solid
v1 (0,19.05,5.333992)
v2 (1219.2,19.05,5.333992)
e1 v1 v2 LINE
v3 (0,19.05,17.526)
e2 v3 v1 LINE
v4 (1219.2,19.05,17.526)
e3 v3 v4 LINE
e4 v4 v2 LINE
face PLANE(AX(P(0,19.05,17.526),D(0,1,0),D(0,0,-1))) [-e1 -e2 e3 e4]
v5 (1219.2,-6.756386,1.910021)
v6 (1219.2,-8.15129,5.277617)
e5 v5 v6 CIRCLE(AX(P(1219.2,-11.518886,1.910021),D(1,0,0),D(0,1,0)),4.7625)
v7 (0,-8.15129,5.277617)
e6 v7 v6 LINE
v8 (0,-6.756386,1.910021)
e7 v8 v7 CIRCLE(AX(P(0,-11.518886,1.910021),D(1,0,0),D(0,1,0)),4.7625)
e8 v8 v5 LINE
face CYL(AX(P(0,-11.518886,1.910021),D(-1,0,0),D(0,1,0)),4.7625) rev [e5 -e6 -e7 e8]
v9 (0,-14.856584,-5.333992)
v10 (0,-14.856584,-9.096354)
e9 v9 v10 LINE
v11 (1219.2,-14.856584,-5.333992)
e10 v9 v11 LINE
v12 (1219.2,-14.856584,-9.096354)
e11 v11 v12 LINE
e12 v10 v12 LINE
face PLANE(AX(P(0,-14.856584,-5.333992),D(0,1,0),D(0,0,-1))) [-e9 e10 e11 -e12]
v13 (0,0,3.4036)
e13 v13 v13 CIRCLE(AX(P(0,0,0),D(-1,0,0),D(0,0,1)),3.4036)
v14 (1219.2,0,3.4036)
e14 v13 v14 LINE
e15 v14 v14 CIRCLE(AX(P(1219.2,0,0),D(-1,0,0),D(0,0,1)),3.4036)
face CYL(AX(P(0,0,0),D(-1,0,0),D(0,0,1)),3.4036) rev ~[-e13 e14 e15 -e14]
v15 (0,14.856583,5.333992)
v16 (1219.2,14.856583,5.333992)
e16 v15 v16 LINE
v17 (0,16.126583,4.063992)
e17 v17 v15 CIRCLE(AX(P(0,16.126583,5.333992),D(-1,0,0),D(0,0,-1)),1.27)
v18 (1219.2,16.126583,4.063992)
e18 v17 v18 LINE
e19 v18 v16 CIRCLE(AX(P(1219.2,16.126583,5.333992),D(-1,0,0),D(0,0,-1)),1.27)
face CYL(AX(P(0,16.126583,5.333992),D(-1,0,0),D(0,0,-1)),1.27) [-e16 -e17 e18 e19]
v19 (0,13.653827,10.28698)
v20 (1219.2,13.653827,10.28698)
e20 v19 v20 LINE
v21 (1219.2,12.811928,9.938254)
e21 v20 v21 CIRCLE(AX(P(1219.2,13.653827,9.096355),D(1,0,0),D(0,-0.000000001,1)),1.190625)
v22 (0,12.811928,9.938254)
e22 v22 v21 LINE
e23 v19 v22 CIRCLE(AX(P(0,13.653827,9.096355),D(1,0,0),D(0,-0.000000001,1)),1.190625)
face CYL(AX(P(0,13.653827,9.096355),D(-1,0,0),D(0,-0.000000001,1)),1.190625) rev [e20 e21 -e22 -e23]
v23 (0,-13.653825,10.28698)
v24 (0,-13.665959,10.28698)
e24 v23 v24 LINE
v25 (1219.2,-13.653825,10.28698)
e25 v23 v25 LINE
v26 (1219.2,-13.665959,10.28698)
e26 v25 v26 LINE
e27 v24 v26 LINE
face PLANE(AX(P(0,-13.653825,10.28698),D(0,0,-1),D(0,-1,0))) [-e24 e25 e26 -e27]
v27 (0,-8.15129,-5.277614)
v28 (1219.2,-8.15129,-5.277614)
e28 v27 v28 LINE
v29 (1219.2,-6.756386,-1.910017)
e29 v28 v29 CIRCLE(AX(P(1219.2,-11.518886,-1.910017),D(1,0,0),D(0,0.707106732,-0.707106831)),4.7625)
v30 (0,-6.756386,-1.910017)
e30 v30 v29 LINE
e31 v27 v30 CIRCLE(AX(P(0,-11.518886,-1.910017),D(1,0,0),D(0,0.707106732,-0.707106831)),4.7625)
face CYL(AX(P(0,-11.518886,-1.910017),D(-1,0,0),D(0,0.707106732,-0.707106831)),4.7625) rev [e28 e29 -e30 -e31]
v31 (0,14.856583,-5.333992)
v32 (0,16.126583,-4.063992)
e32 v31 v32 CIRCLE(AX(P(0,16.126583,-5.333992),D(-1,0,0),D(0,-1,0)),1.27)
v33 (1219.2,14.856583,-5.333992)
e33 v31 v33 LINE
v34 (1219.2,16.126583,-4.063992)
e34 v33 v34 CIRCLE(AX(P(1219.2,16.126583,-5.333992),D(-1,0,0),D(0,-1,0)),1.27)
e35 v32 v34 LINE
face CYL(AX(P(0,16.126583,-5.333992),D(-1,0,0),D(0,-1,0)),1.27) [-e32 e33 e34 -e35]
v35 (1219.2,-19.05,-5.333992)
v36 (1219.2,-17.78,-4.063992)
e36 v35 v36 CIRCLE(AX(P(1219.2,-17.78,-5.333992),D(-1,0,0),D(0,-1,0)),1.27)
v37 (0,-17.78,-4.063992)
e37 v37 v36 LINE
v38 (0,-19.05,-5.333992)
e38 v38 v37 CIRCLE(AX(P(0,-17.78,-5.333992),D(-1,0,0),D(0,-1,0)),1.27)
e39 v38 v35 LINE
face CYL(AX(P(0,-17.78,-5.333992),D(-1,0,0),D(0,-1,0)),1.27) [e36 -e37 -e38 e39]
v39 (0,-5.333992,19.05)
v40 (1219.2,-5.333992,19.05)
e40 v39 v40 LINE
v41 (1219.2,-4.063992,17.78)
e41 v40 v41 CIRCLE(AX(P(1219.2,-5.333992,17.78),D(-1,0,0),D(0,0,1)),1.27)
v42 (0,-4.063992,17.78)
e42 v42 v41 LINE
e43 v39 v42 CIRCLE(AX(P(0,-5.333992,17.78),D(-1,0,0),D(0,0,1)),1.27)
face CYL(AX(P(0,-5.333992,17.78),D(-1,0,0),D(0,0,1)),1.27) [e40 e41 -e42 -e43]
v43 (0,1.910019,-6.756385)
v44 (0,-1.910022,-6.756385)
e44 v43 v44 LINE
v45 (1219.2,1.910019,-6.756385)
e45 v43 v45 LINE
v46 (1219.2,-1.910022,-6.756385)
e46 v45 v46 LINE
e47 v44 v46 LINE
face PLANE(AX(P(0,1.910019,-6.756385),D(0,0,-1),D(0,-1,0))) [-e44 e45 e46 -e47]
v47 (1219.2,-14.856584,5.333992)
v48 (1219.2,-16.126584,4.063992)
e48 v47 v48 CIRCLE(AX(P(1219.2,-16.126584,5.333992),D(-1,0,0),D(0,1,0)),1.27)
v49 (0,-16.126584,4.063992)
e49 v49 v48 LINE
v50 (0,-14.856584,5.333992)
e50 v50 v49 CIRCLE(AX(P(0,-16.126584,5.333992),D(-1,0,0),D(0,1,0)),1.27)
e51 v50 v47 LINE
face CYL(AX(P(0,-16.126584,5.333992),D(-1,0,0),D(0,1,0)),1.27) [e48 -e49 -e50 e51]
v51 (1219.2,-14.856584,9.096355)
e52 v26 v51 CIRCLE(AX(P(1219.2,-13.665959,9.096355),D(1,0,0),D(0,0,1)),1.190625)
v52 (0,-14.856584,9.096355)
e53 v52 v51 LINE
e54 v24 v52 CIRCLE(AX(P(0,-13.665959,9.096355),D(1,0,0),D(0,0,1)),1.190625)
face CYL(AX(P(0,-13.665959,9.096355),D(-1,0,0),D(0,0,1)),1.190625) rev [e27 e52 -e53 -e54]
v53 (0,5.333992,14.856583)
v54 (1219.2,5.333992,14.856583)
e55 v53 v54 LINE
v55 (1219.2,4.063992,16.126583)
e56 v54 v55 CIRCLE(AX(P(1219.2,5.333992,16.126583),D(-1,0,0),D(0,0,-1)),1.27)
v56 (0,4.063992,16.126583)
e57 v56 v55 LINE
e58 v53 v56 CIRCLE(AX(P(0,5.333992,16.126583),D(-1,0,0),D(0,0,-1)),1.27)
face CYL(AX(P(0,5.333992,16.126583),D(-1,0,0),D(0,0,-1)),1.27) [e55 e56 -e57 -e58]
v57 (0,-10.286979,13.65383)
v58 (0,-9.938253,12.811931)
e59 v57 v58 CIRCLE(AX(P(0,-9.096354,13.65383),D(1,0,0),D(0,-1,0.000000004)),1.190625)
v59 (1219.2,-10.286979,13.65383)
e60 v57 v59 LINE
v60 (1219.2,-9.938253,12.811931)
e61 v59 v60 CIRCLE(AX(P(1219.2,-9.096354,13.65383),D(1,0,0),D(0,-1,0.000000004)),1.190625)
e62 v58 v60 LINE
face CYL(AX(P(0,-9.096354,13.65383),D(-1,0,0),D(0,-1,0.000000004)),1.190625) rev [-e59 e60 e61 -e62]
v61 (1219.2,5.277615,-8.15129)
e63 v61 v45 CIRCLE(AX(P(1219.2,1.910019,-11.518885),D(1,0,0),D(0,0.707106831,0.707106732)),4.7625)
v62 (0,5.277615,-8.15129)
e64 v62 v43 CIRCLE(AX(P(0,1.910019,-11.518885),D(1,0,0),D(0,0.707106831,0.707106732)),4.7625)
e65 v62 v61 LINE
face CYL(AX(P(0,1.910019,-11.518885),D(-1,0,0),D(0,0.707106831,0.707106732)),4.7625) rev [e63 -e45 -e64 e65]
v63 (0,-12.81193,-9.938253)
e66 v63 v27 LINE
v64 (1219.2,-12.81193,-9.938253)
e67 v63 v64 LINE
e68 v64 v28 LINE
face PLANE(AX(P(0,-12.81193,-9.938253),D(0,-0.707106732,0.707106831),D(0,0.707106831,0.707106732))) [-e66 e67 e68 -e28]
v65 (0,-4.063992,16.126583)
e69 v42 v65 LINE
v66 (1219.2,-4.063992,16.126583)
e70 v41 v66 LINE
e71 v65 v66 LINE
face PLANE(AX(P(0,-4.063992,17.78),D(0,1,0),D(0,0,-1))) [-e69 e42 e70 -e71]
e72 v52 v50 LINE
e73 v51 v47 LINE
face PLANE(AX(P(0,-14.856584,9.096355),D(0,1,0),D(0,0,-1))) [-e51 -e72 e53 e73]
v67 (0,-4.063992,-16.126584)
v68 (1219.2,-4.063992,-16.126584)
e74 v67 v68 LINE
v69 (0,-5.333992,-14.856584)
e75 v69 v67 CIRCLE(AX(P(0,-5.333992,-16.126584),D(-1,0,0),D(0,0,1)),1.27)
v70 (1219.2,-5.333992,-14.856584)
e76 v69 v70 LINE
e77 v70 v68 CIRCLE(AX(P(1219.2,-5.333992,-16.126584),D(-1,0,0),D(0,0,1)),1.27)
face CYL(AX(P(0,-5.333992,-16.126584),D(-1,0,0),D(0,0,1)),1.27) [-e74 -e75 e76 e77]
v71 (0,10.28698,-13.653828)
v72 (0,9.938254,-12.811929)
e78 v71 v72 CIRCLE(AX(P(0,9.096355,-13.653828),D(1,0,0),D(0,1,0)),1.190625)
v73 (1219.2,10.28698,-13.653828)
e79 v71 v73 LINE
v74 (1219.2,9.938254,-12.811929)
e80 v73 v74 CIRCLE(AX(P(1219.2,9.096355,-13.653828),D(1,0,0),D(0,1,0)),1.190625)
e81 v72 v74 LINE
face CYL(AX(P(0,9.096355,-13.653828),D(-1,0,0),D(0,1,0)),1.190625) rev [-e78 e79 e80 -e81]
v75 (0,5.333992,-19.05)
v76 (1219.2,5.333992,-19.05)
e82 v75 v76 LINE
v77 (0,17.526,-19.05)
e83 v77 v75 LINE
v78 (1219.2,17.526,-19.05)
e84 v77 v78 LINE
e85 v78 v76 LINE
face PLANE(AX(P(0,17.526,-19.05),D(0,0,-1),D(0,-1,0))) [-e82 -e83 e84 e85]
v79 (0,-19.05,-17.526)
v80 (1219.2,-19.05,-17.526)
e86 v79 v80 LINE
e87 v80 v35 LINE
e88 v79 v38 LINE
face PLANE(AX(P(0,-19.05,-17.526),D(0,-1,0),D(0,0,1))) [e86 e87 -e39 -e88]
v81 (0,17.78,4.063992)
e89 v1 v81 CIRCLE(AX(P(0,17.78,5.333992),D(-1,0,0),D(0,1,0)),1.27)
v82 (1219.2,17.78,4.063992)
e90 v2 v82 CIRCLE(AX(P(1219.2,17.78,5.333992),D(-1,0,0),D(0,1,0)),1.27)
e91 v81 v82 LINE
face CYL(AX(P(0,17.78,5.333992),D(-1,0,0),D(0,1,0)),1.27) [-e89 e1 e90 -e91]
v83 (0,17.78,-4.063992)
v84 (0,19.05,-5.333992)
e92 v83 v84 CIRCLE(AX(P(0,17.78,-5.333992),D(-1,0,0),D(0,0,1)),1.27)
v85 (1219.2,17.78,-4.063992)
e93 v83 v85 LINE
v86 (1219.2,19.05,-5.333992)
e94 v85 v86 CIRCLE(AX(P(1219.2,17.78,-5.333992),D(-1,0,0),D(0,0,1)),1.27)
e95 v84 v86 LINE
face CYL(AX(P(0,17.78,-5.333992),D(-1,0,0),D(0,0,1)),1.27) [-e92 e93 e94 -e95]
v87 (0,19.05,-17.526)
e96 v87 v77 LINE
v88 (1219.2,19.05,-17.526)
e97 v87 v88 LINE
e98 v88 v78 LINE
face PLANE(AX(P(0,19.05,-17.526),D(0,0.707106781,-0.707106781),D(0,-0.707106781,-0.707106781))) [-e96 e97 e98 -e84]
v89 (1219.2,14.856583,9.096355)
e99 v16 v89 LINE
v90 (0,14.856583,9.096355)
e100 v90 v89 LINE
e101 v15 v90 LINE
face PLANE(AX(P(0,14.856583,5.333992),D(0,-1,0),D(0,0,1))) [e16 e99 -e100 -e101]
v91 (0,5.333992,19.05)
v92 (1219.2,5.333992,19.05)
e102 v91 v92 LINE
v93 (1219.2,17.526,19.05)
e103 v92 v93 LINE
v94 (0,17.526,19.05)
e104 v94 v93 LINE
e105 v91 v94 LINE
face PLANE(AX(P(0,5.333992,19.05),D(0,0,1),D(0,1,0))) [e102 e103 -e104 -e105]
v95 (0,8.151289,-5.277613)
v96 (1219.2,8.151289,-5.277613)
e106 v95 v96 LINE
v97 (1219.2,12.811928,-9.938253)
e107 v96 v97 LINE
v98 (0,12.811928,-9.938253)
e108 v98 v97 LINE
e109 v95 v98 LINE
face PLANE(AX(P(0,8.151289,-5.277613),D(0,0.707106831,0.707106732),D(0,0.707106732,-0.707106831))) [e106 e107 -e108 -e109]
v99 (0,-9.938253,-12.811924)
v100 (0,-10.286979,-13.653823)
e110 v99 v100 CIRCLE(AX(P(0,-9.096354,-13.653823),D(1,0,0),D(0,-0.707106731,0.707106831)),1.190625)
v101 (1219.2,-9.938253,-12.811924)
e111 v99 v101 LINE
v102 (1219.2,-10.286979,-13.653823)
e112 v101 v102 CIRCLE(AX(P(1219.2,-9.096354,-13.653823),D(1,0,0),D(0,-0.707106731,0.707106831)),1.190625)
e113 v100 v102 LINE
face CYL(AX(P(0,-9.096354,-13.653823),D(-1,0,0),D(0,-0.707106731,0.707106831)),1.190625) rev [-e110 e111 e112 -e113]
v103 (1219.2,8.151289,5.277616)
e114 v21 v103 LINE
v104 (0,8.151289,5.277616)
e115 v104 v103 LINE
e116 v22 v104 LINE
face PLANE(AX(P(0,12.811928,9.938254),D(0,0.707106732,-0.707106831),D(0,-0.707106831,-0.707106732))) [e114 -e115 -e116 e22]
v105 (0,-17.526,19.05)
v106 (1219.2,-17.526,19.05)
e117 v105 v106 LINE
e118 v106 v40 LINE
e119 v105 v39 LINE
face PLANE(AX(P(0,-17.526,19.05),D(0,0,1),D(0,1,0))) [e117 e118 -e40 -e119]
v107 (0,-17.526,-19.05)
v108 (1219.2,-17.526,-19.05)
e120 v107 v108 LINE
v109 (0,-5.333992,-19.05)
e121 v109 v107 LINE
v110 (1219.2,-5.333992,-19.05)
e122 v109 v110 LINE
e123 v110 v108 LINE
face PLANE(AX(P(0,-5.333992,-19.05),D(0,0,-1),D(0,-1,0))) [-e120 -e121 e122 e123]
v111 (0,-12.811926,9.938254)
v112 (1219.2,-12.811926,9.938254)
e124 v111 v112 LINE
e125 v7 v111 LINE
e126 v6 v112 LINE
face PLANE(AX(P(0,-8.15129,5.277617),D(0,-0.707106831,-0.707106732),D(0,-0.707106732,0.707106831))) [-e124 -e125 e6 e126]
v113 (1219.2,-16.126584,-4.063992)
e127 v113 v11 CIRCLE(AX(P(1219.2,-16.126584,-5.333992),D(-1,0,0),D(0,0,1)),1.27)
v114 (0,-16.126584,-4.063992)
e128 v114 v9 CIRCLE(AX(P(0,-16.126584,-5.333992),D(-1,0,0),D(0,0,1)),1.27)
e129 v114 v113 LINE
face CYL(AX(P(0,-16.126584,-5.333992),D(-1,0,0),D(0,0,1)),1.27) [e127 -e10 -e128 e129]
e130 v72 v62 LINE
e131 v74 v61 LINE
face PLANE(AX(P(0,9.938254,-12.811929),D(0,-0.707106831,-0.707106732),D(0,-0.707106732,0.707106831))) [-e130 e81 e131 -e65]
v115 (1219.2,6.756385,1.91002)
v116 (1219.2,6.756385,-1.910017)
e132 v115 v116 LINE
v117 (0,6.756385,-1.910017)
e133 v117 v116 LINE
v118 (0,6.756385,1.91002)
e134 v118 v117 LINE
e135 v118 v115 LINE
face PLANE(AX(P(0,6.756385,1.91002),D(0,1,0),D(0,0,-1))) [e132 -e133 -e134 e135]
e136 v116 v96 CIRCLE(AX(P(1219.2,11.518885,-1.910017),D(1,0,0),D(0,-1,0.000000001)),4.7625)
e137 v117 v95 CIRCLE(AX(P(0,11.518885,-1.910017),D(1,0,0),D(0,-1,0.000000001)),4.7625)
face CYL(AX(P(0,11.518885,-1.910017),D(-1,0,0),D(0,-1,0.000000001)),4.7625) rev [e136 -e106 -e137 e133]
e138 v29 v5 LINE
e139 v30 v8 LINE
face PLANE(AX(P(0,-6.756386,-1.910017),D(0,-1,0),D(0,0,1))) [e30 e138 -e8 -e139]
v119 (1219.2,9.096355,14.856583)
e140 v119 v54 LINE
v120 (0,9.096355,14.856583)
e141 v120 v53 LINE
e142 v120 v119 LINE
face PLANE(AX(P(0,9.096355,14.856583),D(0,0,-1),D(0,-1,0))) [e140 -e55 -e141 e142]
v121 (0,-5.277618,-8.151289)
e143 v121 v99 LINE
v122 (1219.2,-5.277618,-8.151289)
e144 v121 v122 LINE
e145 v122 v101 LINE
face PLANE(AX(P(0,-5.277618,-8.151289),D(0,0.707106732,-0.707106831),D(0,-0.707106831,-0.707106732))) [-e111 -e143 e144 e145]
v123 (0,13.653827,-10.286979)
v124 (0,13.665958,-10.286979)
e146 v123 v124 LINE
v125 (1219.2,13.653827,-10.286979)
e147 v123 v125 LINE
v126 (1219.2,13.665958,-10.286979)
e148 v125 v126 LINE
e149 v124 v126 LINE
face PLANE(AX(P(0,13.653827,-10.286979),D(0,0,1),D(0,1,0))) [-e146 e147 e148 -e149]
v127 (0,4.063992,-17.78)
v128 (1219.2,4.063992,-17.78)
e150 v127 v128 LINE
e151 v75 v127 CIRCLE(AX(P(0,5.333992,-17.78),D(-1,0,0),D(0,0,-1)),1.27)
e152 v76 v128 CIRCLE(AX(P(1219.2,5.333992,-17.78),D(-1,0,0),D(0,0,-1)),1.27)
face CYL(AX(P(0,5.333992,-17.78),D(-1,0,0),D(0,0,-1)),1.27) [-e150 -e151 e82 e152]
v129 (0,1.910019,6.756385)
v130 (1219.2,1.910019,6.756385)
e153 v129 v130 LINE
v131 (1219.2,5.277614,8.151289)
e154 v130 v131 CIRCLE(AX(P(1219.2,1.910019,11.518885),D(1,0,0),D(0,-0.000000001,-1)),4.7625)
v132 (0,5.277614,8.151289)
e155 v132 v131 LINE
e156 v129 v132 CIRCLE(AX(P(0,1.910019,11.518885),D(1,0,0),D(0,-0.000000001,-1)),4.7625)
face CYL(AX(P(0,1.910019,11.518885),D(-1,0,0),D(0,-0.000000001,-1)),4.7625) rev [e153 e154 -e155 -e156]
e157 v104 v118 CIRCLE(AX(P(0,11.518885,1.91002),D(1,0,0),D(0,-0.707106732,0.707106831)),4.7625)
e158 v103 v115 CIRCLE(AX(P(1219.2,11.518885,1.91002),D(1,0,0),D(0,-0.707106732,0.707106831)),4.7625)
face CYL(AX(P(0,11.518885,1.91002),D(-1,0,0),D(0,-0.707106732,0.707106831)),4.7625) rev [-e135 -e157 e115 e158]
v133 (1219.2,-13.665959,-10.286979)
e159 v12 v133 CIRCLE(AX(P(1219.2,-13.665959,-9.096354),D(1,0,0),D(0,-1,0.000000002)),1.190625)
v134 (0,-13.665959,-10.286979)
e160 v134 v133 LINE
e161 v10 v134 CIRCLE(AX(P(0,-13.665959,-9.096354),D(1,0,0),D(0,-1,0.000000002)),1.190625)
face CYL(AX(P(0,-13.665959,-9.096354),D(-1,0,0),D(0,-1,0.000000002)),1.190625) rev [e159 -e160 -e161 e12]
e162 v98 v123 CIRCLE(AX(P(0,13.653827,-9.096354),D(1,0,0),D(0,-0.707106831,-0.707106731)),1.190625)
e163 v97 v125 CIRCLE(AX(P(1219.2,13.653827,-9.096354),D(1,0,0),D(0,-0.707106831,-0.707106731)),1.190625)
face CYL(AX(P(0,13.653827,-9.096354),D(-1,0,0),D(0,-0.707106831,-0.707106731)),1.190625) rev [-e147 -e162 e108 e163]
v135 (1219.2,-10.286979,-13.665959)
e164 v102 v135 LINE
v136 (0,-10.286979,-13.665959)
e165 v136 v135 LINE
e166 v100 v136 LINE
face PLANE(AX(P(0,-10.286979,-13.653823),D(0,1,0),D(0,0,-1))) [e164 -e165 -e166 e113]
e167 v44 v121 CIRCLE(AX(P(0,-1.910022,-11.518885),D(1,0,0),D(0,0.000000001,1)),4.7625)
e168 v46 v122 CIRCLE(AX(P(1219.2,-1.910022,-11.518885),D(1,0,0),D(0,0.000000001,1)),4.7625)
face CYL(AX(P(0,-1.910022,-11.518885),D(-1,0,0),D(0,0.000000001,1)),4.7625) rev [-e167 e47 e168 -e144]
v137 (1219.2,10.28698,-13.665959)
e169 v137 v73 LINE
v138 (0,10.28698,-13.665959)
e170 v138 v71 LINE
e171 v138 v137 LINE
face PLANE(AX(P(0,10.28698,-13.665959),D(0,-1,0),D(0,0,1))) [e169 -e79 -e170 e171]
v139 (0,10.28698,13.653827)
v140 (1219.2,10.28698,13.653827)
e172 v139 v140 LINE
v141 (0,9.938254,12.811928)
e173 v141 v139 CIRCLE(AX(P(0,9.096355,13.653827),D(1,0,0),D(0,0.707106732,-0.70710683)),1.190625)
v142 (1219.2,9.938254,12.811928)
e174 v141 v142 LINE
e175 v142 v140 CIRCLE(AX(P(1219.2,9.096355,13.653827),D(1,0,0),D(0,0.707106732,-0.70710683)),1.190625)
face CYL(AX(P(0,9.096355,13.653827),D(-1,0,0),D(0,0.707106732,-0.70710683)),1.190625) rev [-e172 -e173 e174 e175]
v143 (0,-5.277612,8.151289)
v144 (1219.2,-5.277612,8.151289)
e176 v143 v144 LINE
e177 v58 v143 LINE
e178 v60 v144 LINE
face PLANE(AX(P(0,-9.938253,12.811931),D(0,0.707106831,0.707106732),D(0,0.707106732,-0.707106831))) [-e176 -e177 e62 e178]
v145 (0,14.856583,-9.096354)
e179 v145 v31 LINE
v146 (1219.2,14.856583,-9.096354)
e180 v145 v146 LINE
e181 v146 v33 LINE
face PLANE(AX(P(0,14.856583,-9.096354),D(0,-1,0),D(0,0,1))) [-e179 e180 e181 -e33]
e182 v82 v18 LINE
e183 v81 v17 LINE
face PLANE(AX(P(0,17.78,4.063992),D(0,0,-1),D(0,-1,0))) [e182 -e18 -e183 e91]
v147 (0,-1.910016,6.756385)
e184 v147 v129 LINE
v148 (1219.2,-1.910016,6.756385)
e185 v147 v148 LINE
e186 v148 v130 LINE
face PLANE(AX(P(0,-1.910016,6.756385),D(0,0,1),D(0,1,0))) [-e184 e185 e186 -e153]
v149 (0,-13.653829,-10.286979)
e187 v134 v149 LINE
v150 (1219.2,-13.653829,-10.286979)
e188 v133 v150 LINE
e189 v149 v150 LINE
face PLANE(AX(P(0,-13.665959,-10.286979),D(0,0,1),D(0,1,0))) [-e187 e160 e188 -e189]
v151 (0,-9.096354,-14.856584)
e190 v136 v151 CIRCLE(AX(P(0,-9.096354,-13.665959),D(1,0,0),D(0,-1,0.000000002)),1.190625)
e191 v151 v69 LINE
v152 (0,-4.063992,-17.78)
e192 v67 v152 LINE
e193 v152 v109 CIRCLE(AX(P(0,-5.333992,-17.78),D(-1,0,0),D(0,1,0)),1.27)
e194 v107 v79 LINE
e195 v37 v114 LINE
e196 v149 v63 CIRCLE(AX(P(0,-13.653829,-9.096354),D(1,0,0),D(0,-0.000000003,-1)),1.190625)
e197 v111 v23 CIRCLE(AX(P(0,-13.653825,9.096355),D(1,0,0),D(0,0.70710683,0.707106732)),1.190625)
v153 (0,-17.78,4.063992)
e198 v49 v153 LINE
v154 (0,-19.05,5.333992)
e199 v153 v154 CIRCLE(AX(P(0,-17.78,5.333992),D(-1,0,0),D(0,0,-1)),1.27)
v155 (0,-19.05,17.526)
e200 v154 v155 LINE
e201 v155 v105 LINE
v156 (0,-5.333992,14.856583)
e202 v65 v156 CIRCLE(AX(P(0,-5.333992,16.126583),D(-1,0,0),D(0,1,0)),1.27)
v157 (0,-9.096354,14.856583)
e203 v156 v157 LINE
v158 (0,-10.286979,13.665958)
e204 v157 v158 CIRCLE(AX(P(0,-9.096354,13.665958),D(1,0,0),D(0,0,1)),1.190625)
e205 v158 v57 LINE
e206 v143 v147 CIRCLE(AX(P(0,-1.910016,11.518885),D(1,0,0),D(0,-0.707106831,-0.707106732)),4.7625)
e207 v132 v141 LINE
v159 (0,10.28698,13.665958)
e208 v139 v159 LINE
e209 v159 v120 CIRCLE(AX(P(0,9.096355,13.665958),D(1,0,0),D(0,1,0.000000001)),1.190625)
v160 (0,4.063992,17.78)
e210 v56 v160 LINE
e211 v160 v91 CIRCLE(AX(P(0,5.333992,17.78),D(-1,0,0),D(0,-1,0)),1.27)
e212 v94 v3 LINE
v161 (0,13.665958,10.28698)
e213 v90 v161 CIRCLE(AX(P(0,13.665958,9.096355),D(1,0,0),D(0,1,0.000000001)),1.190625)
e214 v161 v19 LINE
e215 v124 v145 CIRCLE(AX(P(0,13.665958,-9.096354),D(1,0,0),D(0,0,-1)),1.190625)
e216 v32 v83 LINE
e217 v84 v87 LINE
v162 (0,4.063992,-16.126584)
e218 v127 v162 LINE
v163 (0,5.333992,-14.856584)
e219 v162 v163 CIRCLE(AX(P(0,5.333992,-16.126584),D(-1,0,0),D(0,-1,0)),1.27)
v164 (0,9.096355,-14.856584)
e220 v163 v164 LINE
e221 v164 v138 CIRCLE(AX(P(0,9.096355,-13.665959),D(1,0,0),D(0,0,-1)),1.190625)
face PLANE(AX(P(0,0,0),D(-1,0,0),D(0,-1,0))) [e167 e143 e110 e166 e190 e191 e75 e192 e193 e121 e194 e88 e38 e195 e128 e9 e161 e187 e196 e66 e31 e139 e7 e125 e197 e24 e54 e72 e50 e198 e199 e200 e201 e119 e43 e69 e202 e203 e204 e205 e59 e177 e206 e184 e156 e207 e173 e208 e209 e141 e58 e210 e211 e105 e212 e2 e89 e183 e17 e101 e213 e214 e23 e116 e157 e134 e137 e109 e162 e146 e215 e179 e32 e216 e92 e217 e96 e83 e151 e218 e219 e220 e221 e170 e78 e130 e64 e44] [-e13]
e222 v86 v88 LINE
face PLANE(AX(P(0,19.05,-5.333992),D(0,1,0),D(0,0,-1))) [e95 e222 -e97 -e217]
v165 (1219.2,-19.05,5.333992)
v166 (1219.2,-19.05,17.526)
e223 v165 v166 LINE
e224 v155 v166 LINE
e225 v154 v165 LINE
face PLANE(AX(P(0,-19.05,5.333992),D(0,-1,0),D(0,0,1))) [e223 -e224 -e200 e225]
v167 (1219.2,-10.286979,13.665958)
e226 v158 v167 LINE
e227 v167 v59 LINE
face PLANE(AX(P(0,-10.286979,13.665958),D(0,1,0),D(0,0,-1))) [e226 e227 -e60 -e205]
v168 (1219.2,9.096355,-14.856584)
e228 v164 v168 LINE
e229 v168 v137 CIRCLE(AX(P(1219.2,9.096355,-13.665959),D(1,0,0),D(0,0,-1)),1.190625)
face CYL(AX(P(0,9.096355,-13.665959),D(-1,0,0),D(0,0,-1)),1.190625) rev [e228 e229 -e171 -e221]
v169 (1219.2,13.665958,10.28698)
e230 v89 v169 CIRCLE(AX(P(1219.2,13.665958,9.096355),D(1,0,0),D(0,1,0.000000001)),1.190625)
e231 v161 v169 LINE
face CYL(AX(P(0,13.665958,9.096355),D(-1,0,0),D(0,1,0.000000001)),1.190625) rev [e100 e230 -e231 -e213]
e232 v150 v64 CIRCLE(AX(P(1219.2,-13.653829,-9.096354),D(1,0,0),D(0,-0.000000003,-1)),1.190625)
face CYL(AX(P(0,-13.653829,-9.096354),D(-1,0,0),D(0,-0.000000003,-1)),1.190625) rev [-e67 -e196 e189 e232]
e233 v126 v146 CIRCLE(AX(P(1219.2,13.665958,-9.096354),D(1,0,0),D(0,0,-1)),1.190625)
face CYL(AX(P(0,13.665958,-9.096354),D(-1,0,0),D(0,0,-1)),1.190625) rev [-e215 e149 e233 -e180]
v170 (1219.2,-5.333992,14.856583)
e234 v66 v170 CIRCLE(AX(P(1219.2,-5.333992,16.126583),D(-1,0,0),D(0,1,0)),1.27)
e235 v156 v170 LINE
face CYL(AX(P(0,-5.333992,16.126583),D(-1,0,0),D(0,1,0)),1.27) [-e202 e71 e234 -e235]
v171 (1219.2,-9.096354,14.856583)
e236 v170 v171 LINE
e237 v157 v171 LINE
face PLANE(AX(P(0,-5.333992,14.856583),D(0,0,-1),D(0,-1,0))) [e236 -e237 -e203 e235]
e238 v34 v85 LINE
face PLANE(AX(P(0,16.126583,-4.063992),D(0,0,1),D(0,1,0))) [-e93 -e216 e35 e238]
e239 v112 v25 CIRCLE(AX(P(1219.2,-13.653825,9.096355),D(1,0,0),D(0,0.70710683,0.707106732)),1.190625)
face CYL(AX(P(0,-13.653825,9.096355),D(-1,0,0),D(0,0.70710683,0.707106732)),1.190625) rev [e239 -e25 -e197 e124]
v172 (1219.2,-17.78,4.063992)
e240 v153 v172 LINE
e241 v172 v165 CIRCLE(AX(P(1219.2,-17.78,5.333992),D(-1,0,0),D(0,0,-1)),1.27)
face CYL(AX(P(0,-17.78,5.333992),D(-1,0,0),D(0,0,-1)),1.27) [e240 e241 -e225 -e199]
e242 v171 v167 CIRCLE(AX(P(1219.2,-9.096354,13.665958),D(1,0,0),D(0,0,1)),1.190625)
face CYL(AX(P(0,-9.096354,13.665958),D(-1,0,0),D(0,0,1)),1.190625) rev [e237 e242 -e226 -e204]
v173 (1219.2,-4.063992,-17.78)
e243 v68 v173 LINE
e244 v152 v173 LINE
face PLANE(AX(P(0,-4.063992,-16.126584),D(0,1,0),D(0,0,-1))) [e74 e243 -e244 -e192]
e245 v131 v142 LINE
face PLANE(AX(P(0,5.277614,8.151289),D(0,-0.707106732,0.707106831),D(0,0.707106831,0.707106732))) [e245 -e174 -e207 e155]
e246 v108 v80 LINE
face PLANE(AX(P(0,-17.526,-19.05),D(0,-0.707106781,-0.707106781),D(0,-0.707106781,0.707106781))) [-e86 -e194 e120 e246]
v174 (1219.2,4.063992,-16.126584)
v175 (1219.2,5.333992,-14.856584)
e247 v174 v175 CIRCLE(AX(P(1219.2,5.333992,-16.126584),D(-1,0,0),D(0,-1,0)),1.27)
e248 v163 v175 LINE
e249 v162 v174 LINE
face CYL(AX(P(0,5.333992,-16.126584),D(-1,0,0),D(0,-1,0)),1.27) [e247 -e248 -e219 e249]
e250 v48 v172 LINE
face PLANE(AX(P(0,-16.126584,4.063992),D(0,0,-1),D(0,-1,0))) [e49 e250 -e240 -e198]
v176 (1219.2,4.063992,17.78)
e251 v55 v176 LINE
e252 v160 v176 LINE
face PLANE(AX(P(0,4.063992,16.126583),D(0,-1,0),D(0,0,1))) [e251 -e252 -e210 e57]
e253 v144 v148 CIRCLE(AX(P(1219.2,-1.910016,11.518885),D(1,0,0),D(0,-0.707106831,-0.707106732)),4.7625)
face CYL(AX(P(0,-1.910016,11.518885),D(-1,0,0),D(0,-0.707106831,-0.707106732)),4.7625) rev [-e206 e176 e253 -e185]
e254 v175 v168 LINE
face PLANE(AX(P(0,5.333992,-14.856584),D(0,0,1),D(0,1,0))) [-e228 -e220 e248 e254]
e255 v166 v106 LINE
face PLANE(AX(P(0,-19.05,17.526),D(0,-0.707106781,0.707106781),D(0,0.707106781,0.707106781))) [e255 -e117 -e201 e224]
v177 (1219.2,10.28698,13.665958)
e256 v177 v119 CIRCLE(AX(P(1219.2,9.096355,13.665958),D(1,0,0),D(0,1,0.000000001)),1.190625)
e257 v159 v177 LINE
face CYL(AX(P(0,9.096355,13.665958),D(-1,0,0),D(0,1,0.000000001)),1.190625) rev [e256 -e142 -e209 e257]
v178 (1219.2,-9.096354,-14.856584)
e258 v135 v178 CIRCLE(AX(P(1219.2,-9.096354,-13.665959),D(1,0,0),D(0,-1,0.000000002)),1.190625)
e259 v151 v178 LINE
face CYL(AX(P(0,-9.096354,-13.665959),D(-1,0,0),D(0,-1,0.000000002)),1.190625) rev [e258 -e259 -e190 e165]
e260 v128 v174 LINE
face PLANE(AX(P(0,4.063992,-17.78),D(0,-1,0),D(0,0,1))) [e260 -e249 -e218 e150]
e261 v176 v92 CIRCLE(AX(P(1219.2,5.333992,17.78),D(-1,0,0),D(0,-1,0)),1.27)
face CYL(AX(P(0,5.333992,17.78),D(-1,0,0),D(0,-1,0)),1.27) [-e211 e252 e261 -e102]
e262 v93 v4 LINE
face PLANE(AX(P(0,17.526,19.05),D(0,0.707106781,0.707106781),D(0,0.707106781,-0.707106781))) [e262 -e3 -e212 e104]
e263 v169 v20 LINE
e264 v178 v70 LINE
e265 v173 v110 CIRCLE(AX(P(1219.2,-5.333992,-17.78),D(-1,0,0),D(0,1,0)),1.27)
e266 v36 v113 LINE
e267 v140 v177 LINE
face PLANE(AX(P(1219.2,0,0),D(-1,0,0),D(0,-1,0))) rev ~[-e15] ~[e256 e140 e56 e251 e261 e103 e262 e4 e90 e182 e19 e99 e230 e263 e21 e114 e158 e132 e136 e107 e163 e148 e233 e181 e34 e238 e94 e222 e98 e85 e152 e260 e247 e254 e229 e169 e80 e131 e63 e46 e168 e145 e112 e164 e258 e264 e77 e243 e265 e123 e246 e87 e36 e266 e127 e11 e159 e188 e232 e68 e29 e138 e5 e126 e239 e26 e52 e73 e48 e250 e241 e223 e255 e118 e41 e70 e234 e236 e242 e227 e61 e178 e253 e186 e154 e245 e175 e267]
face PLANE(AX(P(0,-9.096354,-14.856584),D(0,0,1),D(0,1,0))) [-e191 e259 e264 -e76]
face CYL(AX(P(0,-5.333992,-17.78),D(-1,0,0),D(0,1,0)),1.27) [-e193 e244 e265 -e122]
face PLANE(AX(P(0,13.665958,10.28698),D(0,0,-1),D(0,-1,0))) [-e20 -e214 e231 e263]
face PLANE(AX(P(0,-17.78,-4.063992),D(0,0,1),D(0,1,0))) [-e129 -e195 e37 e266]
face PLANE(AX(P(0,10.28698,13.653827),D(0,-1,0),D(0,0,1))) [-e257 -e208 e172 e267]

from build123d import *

# Parameters (mm, degrees)
SKETCH1_R           = 3.4036
BOSS_EXTRUDE1_DEPTH = 1219.2


with BuildPart() as part:
    # Sketch1 → Boss-Extrude1 (new body)
    with BuildSketch(Plane(origin=(0, 0, 0), x_dir=(0, -1, 0), z_dir=(-1, 0, 0))):
        with BuildLine():
            Line((19.05, 5.333992226), (19.05, 17.526))
            Line((19.05, 17.526), (17.526, 19.05))
            Line((17.526, 19.05), (5.333991729, 19.05))
            ThreePointArc((5.333991729, 19.05), (4.435966117, 18.678025612), (4.063991729, 17.78))
            Line((4.063991729, 17.78), (4.063991729, 16.12658277))
            ThreePointArc((4.063991729, 16.12658277), (4.435966117, 15.228557158), (5.333991729, 14.85658277))
            Line((5.333991729, 14.85658277), (9.096353874, 14.85658277))
            ThreePointArc((9.096353874, 14.85658277), (9.938252886, 14.507856781), (10.286978874, 13.66595777))
            Line((10.286978874, 13.66595777), (10.286978874, 13.653830065))
            ThreePointArc((10.286978874, 13.653830065), (10.196347959, 13.198197641), (9.938252944, 12.811931112))
            Line((9.938252944, 12.811931112), (5.277611896, 8.151289413))
            ThreePointArc((5.277611896, 8.151289413), (3.732545616, 7.118909013), (1.910015615, 6.756385223))
            Line((1.910015615, 6.756385223), (-1.910018596, 6.756385223))
            ThreePointArc((-1.910018596, 6.756385223), (-3.732548289, 7.118908885), (-5.277614406, 8.151288942))
            Line((-5.277614406, 8.151288942), (-9.93825393, 12.811927815))
            ThreePointArc((-9.93825393, 12.811927815), (-10.19634903, 13.198194385), (-10.286979978, 13.653826886))
            Line((-10.286979978, 13.653826886), (-10.286979978, 13.66595777))
            ThreePointArc((-10.286979978, 13.66595777), (-9.938253989, 14.507856781), (-9.096354978, 14.85658277))
            Line((-9.096354978, 14.85658277), (-5.333992226, 14.85658277))
            ThreePointArc((-5.333992226, 14.85658277), (-4.435966614, 15.228557158), (-4.063992226, 16.12658277))
            Line((-4.063992226, 16.12658277), (-4.063992226, 17.78))
            ThreePointArc((-4.063992226, 17.78), (-4.435966614, 18.678025612), (-5.333992226, 19.05))
            Line((-5.333992226, 19.05), (-17.526, 19.05))
            Line((-17.526, 19.05), (-19.05, 17.526))
            Line((-19.05, 17.526), (-19.05, 5.333992226))
            ThreePointArc((-19.05, 5.333992226), (-18.678025612, 4.435966614), (-17.78, 4.063992226))
            Line((-17.78, 4.063992226), (-16.12658277, 4.063992226))
            ThreePointArc((-16.12658277, 4.063992226), (-15.228557158, 4.435966614), (-14.85658277, 5.333992226))
            Line((-14.85658277, 5.333992226), (-14.85658277, 9.096354978))
            ThreePointArc((-14.85658277, 9.096354978), (-14.507856781, 9.938253989), (-13.66595777, 10.286979978))
            Line((-13.66595777, 10.286979978), (-13.653827218, 10.286979978))
            ThreePointArc((-13.653827218, 10.286979978), (-13.198194795, 10.196349062), (-12.811928266, 9.938254048))
            Line((-12.811928266, 9.938254048), (-8.151289413, 5.277615846))
            ThreePointArc((-8.151289413, 5.277615846), (-7.118909013, 3.732549566), (-6.756385223, 1.910019566))
            Line((-6.756385223, 1.910019566), (-6.756385223, -1.910017492))
            ThreePointArc((-6.756385223, -1.910017492), (-7.118908885, -3.732547185), (-8.151288942, -5.277613302))
            Line((-8.151288942, -5.277613302), (-12.811927815, -9.938252827))
            ThreePointArc((-12.811927815, -9.938252827), (-13.198194385, -10.196347927), (-13.653826886, -10.286978874))
            Line((-13.653826886, -10.286978874), (-13.66595777, -10.286978874))
            ThreePointArc((-13.66595777, -10.286978874), (-14.507856781, -9.938252886), (-14.85658277, -9.096353874))
            Line((-14.85658277, -9.096353874), (-14.85658277, -5.333991729))
            ThreePointArc((-14.85658277, -5.333991729), (-15.228557158, -4.435966117), (-16.12658277, -4.063991729))
            Line((-16.12658277, -4.063991729), (-17.78, -4.063991729))
            ThreePointArc((-17.78, -4.063991729), (-18.678025612, -4.435966117), (-19.05, -5.333991729))
            Line((-19.05, -5.333991729), (-19.05, -17.526))
            Line((-19.05, -17.526), (-17.526, -19.05))
            Line((-17.526, -19.05), (-5.333992226, -19.05))
            ThreePointArc((-5.333992226, -19.05), (-4.435966614, -18.678025612), (-4.063992226, -17.78))
            Line((-4.063992226, -17.78), (-4.063992226, -16.126583724))
            ThreePointArc((-4.063992226, -16.126583724), (-4.435966614, -15.228558112), (-5.333992226, -14.856583724))
            Line((-5.333992226, -14.856583724), (-9.096354978, -14.856583724))
            ThreePointArc((-9.096354978, -14.856583724), (-9.938253989, -14.507857736), (-10.286979978, -13.665958724))
            Line((-10.286979978, -13.665958724), (-10.286979978, -13.653828173))
            ThreePointArc((-10.286979978, -13.653828173), (-10.196349062, -13.198195749), (-9.938254048, -12.81192922))
            Line((-9.938254048, -12.81192922), (-5.277615159, -8.15128968))
            ThreePointArc((-5.277615159, -8.15128968), (-3.732548878, -7.11890928), (-1.910018878, -6.75638549))
            Line((-1.910018878, -6.75638549), (1.910021709, -6.75638549))
            ThreePointArc((1.910021709, -6.75638549), (3.732551402, -7.118909152), (5.277617519, -8.151289209))
            Line((5.277617519, -8.151289209), (9.938252827, -12.811923865))
            ThreePointArc((9.938252827, -12.811923865), (10.196347927, -13.198190435), (10.286978874, -13.653822935))
            Line((10.286978874, -13.653822935), (10.286978874, -13.665958724))
            ThreePointArc((10.286978874, -13.665958724), (9.938252886, -14.507857736), (9.096353874, -14.856583724))
            Line((9.096353874, -14.856583724), (5.333991729, -14.856583724))
            ThreePointArc((5.333991729, -14.856583724), (4.435966117, -15.228558112), (4.063991729, -16.126583724))
            Line((4.063991729, -16.126583724), (4.063991729, -17.78))
            ThreePointArc((4.063991729, -17.78), (4.435966117, -18.678025612), (5.333991729, -19.05))
            Line((5.333991729, -19.05), (17.526, -19.05))
            Line((17.526, -19.05), (19.05, -17.526))
            Line((19.05, -17.526), (19.05, -5.333991729))
            ThreePointArc((19.05, -5.333991729), (18.678025612, -4.435966117), (17.78, -4.063991729))
            Line((17.78, -4.063991729), (16.126583724, -4.063991729))
            ThreePointArc((16.126583724, -4.063991729), (15.228558112, -4.435966117), (14.856583724, -5.333991729))
            Line((14.856583724, -5.333991729), (14.856583724, -9.096353874))
            ThreePointArc((14.856583724, -9.096353874), (14.507857736, -9.938252886), (13.665958724, -10.286978874))
            Line((13.665958724, -10.286978874), (13.653828961, -10.286978874))
            ThreePointArc((13.653828961, -10.286978874), (13.198196538, -10.196347959), (12.811930009, -9.938252944))
            Line((12.811930009, -9.938252944), (8.151290074, -5.277613661))
            ThreePointArc((8.151290074, -5.277613661), (7.118909674, -3.732547381), (6.756385884, -1.91001738))
            Line((6.756385884, -1.91001738), (6.756385884, 1.910021149))
            ThreePointArc((6.756385884, 1.910021149), (7.118909547, 3.732550842), (8.151289603, 5.277616959))
            Line((8.151289603, 5.277616959), (12.811925923, 9.93825393))
            ThreePointArc((12.811925923, 9.93825393), (13.198192493, 10.19634903), (13.653824993, 10.286979978))
            Line((13.653824993, 10.286979978), (13.665958724, 10.286979978))
            ThreePointArc((13.665958724, 10.286979978), (14.507857736, 9.938253989), (14.856583724, 9.096354978))
            Line((14.856583724, 9.096354978), (14.856583724, 5.333992226))
            ThreePointArc((14.856583724, 5.333992226), (15.228558112, 4.435966614), (16.126583724, 4.063992226))
            Line((16.126583724, 4.063992226), (17.78, 4.063992226))
            ThreePointArc((17.78, 4.063992226), (18.678025612, 4.435966614), (19.05, 5.333992226))
        make_face()
        with Locations(Location((0, 0, 0), (0, 0, 90))):
            Circle(SKETCH1_R, mode=Mode.SUBTRACT)
    extrude(amount=-BOSS_EXTRUDE1_DEPTH)


solid = part.part
